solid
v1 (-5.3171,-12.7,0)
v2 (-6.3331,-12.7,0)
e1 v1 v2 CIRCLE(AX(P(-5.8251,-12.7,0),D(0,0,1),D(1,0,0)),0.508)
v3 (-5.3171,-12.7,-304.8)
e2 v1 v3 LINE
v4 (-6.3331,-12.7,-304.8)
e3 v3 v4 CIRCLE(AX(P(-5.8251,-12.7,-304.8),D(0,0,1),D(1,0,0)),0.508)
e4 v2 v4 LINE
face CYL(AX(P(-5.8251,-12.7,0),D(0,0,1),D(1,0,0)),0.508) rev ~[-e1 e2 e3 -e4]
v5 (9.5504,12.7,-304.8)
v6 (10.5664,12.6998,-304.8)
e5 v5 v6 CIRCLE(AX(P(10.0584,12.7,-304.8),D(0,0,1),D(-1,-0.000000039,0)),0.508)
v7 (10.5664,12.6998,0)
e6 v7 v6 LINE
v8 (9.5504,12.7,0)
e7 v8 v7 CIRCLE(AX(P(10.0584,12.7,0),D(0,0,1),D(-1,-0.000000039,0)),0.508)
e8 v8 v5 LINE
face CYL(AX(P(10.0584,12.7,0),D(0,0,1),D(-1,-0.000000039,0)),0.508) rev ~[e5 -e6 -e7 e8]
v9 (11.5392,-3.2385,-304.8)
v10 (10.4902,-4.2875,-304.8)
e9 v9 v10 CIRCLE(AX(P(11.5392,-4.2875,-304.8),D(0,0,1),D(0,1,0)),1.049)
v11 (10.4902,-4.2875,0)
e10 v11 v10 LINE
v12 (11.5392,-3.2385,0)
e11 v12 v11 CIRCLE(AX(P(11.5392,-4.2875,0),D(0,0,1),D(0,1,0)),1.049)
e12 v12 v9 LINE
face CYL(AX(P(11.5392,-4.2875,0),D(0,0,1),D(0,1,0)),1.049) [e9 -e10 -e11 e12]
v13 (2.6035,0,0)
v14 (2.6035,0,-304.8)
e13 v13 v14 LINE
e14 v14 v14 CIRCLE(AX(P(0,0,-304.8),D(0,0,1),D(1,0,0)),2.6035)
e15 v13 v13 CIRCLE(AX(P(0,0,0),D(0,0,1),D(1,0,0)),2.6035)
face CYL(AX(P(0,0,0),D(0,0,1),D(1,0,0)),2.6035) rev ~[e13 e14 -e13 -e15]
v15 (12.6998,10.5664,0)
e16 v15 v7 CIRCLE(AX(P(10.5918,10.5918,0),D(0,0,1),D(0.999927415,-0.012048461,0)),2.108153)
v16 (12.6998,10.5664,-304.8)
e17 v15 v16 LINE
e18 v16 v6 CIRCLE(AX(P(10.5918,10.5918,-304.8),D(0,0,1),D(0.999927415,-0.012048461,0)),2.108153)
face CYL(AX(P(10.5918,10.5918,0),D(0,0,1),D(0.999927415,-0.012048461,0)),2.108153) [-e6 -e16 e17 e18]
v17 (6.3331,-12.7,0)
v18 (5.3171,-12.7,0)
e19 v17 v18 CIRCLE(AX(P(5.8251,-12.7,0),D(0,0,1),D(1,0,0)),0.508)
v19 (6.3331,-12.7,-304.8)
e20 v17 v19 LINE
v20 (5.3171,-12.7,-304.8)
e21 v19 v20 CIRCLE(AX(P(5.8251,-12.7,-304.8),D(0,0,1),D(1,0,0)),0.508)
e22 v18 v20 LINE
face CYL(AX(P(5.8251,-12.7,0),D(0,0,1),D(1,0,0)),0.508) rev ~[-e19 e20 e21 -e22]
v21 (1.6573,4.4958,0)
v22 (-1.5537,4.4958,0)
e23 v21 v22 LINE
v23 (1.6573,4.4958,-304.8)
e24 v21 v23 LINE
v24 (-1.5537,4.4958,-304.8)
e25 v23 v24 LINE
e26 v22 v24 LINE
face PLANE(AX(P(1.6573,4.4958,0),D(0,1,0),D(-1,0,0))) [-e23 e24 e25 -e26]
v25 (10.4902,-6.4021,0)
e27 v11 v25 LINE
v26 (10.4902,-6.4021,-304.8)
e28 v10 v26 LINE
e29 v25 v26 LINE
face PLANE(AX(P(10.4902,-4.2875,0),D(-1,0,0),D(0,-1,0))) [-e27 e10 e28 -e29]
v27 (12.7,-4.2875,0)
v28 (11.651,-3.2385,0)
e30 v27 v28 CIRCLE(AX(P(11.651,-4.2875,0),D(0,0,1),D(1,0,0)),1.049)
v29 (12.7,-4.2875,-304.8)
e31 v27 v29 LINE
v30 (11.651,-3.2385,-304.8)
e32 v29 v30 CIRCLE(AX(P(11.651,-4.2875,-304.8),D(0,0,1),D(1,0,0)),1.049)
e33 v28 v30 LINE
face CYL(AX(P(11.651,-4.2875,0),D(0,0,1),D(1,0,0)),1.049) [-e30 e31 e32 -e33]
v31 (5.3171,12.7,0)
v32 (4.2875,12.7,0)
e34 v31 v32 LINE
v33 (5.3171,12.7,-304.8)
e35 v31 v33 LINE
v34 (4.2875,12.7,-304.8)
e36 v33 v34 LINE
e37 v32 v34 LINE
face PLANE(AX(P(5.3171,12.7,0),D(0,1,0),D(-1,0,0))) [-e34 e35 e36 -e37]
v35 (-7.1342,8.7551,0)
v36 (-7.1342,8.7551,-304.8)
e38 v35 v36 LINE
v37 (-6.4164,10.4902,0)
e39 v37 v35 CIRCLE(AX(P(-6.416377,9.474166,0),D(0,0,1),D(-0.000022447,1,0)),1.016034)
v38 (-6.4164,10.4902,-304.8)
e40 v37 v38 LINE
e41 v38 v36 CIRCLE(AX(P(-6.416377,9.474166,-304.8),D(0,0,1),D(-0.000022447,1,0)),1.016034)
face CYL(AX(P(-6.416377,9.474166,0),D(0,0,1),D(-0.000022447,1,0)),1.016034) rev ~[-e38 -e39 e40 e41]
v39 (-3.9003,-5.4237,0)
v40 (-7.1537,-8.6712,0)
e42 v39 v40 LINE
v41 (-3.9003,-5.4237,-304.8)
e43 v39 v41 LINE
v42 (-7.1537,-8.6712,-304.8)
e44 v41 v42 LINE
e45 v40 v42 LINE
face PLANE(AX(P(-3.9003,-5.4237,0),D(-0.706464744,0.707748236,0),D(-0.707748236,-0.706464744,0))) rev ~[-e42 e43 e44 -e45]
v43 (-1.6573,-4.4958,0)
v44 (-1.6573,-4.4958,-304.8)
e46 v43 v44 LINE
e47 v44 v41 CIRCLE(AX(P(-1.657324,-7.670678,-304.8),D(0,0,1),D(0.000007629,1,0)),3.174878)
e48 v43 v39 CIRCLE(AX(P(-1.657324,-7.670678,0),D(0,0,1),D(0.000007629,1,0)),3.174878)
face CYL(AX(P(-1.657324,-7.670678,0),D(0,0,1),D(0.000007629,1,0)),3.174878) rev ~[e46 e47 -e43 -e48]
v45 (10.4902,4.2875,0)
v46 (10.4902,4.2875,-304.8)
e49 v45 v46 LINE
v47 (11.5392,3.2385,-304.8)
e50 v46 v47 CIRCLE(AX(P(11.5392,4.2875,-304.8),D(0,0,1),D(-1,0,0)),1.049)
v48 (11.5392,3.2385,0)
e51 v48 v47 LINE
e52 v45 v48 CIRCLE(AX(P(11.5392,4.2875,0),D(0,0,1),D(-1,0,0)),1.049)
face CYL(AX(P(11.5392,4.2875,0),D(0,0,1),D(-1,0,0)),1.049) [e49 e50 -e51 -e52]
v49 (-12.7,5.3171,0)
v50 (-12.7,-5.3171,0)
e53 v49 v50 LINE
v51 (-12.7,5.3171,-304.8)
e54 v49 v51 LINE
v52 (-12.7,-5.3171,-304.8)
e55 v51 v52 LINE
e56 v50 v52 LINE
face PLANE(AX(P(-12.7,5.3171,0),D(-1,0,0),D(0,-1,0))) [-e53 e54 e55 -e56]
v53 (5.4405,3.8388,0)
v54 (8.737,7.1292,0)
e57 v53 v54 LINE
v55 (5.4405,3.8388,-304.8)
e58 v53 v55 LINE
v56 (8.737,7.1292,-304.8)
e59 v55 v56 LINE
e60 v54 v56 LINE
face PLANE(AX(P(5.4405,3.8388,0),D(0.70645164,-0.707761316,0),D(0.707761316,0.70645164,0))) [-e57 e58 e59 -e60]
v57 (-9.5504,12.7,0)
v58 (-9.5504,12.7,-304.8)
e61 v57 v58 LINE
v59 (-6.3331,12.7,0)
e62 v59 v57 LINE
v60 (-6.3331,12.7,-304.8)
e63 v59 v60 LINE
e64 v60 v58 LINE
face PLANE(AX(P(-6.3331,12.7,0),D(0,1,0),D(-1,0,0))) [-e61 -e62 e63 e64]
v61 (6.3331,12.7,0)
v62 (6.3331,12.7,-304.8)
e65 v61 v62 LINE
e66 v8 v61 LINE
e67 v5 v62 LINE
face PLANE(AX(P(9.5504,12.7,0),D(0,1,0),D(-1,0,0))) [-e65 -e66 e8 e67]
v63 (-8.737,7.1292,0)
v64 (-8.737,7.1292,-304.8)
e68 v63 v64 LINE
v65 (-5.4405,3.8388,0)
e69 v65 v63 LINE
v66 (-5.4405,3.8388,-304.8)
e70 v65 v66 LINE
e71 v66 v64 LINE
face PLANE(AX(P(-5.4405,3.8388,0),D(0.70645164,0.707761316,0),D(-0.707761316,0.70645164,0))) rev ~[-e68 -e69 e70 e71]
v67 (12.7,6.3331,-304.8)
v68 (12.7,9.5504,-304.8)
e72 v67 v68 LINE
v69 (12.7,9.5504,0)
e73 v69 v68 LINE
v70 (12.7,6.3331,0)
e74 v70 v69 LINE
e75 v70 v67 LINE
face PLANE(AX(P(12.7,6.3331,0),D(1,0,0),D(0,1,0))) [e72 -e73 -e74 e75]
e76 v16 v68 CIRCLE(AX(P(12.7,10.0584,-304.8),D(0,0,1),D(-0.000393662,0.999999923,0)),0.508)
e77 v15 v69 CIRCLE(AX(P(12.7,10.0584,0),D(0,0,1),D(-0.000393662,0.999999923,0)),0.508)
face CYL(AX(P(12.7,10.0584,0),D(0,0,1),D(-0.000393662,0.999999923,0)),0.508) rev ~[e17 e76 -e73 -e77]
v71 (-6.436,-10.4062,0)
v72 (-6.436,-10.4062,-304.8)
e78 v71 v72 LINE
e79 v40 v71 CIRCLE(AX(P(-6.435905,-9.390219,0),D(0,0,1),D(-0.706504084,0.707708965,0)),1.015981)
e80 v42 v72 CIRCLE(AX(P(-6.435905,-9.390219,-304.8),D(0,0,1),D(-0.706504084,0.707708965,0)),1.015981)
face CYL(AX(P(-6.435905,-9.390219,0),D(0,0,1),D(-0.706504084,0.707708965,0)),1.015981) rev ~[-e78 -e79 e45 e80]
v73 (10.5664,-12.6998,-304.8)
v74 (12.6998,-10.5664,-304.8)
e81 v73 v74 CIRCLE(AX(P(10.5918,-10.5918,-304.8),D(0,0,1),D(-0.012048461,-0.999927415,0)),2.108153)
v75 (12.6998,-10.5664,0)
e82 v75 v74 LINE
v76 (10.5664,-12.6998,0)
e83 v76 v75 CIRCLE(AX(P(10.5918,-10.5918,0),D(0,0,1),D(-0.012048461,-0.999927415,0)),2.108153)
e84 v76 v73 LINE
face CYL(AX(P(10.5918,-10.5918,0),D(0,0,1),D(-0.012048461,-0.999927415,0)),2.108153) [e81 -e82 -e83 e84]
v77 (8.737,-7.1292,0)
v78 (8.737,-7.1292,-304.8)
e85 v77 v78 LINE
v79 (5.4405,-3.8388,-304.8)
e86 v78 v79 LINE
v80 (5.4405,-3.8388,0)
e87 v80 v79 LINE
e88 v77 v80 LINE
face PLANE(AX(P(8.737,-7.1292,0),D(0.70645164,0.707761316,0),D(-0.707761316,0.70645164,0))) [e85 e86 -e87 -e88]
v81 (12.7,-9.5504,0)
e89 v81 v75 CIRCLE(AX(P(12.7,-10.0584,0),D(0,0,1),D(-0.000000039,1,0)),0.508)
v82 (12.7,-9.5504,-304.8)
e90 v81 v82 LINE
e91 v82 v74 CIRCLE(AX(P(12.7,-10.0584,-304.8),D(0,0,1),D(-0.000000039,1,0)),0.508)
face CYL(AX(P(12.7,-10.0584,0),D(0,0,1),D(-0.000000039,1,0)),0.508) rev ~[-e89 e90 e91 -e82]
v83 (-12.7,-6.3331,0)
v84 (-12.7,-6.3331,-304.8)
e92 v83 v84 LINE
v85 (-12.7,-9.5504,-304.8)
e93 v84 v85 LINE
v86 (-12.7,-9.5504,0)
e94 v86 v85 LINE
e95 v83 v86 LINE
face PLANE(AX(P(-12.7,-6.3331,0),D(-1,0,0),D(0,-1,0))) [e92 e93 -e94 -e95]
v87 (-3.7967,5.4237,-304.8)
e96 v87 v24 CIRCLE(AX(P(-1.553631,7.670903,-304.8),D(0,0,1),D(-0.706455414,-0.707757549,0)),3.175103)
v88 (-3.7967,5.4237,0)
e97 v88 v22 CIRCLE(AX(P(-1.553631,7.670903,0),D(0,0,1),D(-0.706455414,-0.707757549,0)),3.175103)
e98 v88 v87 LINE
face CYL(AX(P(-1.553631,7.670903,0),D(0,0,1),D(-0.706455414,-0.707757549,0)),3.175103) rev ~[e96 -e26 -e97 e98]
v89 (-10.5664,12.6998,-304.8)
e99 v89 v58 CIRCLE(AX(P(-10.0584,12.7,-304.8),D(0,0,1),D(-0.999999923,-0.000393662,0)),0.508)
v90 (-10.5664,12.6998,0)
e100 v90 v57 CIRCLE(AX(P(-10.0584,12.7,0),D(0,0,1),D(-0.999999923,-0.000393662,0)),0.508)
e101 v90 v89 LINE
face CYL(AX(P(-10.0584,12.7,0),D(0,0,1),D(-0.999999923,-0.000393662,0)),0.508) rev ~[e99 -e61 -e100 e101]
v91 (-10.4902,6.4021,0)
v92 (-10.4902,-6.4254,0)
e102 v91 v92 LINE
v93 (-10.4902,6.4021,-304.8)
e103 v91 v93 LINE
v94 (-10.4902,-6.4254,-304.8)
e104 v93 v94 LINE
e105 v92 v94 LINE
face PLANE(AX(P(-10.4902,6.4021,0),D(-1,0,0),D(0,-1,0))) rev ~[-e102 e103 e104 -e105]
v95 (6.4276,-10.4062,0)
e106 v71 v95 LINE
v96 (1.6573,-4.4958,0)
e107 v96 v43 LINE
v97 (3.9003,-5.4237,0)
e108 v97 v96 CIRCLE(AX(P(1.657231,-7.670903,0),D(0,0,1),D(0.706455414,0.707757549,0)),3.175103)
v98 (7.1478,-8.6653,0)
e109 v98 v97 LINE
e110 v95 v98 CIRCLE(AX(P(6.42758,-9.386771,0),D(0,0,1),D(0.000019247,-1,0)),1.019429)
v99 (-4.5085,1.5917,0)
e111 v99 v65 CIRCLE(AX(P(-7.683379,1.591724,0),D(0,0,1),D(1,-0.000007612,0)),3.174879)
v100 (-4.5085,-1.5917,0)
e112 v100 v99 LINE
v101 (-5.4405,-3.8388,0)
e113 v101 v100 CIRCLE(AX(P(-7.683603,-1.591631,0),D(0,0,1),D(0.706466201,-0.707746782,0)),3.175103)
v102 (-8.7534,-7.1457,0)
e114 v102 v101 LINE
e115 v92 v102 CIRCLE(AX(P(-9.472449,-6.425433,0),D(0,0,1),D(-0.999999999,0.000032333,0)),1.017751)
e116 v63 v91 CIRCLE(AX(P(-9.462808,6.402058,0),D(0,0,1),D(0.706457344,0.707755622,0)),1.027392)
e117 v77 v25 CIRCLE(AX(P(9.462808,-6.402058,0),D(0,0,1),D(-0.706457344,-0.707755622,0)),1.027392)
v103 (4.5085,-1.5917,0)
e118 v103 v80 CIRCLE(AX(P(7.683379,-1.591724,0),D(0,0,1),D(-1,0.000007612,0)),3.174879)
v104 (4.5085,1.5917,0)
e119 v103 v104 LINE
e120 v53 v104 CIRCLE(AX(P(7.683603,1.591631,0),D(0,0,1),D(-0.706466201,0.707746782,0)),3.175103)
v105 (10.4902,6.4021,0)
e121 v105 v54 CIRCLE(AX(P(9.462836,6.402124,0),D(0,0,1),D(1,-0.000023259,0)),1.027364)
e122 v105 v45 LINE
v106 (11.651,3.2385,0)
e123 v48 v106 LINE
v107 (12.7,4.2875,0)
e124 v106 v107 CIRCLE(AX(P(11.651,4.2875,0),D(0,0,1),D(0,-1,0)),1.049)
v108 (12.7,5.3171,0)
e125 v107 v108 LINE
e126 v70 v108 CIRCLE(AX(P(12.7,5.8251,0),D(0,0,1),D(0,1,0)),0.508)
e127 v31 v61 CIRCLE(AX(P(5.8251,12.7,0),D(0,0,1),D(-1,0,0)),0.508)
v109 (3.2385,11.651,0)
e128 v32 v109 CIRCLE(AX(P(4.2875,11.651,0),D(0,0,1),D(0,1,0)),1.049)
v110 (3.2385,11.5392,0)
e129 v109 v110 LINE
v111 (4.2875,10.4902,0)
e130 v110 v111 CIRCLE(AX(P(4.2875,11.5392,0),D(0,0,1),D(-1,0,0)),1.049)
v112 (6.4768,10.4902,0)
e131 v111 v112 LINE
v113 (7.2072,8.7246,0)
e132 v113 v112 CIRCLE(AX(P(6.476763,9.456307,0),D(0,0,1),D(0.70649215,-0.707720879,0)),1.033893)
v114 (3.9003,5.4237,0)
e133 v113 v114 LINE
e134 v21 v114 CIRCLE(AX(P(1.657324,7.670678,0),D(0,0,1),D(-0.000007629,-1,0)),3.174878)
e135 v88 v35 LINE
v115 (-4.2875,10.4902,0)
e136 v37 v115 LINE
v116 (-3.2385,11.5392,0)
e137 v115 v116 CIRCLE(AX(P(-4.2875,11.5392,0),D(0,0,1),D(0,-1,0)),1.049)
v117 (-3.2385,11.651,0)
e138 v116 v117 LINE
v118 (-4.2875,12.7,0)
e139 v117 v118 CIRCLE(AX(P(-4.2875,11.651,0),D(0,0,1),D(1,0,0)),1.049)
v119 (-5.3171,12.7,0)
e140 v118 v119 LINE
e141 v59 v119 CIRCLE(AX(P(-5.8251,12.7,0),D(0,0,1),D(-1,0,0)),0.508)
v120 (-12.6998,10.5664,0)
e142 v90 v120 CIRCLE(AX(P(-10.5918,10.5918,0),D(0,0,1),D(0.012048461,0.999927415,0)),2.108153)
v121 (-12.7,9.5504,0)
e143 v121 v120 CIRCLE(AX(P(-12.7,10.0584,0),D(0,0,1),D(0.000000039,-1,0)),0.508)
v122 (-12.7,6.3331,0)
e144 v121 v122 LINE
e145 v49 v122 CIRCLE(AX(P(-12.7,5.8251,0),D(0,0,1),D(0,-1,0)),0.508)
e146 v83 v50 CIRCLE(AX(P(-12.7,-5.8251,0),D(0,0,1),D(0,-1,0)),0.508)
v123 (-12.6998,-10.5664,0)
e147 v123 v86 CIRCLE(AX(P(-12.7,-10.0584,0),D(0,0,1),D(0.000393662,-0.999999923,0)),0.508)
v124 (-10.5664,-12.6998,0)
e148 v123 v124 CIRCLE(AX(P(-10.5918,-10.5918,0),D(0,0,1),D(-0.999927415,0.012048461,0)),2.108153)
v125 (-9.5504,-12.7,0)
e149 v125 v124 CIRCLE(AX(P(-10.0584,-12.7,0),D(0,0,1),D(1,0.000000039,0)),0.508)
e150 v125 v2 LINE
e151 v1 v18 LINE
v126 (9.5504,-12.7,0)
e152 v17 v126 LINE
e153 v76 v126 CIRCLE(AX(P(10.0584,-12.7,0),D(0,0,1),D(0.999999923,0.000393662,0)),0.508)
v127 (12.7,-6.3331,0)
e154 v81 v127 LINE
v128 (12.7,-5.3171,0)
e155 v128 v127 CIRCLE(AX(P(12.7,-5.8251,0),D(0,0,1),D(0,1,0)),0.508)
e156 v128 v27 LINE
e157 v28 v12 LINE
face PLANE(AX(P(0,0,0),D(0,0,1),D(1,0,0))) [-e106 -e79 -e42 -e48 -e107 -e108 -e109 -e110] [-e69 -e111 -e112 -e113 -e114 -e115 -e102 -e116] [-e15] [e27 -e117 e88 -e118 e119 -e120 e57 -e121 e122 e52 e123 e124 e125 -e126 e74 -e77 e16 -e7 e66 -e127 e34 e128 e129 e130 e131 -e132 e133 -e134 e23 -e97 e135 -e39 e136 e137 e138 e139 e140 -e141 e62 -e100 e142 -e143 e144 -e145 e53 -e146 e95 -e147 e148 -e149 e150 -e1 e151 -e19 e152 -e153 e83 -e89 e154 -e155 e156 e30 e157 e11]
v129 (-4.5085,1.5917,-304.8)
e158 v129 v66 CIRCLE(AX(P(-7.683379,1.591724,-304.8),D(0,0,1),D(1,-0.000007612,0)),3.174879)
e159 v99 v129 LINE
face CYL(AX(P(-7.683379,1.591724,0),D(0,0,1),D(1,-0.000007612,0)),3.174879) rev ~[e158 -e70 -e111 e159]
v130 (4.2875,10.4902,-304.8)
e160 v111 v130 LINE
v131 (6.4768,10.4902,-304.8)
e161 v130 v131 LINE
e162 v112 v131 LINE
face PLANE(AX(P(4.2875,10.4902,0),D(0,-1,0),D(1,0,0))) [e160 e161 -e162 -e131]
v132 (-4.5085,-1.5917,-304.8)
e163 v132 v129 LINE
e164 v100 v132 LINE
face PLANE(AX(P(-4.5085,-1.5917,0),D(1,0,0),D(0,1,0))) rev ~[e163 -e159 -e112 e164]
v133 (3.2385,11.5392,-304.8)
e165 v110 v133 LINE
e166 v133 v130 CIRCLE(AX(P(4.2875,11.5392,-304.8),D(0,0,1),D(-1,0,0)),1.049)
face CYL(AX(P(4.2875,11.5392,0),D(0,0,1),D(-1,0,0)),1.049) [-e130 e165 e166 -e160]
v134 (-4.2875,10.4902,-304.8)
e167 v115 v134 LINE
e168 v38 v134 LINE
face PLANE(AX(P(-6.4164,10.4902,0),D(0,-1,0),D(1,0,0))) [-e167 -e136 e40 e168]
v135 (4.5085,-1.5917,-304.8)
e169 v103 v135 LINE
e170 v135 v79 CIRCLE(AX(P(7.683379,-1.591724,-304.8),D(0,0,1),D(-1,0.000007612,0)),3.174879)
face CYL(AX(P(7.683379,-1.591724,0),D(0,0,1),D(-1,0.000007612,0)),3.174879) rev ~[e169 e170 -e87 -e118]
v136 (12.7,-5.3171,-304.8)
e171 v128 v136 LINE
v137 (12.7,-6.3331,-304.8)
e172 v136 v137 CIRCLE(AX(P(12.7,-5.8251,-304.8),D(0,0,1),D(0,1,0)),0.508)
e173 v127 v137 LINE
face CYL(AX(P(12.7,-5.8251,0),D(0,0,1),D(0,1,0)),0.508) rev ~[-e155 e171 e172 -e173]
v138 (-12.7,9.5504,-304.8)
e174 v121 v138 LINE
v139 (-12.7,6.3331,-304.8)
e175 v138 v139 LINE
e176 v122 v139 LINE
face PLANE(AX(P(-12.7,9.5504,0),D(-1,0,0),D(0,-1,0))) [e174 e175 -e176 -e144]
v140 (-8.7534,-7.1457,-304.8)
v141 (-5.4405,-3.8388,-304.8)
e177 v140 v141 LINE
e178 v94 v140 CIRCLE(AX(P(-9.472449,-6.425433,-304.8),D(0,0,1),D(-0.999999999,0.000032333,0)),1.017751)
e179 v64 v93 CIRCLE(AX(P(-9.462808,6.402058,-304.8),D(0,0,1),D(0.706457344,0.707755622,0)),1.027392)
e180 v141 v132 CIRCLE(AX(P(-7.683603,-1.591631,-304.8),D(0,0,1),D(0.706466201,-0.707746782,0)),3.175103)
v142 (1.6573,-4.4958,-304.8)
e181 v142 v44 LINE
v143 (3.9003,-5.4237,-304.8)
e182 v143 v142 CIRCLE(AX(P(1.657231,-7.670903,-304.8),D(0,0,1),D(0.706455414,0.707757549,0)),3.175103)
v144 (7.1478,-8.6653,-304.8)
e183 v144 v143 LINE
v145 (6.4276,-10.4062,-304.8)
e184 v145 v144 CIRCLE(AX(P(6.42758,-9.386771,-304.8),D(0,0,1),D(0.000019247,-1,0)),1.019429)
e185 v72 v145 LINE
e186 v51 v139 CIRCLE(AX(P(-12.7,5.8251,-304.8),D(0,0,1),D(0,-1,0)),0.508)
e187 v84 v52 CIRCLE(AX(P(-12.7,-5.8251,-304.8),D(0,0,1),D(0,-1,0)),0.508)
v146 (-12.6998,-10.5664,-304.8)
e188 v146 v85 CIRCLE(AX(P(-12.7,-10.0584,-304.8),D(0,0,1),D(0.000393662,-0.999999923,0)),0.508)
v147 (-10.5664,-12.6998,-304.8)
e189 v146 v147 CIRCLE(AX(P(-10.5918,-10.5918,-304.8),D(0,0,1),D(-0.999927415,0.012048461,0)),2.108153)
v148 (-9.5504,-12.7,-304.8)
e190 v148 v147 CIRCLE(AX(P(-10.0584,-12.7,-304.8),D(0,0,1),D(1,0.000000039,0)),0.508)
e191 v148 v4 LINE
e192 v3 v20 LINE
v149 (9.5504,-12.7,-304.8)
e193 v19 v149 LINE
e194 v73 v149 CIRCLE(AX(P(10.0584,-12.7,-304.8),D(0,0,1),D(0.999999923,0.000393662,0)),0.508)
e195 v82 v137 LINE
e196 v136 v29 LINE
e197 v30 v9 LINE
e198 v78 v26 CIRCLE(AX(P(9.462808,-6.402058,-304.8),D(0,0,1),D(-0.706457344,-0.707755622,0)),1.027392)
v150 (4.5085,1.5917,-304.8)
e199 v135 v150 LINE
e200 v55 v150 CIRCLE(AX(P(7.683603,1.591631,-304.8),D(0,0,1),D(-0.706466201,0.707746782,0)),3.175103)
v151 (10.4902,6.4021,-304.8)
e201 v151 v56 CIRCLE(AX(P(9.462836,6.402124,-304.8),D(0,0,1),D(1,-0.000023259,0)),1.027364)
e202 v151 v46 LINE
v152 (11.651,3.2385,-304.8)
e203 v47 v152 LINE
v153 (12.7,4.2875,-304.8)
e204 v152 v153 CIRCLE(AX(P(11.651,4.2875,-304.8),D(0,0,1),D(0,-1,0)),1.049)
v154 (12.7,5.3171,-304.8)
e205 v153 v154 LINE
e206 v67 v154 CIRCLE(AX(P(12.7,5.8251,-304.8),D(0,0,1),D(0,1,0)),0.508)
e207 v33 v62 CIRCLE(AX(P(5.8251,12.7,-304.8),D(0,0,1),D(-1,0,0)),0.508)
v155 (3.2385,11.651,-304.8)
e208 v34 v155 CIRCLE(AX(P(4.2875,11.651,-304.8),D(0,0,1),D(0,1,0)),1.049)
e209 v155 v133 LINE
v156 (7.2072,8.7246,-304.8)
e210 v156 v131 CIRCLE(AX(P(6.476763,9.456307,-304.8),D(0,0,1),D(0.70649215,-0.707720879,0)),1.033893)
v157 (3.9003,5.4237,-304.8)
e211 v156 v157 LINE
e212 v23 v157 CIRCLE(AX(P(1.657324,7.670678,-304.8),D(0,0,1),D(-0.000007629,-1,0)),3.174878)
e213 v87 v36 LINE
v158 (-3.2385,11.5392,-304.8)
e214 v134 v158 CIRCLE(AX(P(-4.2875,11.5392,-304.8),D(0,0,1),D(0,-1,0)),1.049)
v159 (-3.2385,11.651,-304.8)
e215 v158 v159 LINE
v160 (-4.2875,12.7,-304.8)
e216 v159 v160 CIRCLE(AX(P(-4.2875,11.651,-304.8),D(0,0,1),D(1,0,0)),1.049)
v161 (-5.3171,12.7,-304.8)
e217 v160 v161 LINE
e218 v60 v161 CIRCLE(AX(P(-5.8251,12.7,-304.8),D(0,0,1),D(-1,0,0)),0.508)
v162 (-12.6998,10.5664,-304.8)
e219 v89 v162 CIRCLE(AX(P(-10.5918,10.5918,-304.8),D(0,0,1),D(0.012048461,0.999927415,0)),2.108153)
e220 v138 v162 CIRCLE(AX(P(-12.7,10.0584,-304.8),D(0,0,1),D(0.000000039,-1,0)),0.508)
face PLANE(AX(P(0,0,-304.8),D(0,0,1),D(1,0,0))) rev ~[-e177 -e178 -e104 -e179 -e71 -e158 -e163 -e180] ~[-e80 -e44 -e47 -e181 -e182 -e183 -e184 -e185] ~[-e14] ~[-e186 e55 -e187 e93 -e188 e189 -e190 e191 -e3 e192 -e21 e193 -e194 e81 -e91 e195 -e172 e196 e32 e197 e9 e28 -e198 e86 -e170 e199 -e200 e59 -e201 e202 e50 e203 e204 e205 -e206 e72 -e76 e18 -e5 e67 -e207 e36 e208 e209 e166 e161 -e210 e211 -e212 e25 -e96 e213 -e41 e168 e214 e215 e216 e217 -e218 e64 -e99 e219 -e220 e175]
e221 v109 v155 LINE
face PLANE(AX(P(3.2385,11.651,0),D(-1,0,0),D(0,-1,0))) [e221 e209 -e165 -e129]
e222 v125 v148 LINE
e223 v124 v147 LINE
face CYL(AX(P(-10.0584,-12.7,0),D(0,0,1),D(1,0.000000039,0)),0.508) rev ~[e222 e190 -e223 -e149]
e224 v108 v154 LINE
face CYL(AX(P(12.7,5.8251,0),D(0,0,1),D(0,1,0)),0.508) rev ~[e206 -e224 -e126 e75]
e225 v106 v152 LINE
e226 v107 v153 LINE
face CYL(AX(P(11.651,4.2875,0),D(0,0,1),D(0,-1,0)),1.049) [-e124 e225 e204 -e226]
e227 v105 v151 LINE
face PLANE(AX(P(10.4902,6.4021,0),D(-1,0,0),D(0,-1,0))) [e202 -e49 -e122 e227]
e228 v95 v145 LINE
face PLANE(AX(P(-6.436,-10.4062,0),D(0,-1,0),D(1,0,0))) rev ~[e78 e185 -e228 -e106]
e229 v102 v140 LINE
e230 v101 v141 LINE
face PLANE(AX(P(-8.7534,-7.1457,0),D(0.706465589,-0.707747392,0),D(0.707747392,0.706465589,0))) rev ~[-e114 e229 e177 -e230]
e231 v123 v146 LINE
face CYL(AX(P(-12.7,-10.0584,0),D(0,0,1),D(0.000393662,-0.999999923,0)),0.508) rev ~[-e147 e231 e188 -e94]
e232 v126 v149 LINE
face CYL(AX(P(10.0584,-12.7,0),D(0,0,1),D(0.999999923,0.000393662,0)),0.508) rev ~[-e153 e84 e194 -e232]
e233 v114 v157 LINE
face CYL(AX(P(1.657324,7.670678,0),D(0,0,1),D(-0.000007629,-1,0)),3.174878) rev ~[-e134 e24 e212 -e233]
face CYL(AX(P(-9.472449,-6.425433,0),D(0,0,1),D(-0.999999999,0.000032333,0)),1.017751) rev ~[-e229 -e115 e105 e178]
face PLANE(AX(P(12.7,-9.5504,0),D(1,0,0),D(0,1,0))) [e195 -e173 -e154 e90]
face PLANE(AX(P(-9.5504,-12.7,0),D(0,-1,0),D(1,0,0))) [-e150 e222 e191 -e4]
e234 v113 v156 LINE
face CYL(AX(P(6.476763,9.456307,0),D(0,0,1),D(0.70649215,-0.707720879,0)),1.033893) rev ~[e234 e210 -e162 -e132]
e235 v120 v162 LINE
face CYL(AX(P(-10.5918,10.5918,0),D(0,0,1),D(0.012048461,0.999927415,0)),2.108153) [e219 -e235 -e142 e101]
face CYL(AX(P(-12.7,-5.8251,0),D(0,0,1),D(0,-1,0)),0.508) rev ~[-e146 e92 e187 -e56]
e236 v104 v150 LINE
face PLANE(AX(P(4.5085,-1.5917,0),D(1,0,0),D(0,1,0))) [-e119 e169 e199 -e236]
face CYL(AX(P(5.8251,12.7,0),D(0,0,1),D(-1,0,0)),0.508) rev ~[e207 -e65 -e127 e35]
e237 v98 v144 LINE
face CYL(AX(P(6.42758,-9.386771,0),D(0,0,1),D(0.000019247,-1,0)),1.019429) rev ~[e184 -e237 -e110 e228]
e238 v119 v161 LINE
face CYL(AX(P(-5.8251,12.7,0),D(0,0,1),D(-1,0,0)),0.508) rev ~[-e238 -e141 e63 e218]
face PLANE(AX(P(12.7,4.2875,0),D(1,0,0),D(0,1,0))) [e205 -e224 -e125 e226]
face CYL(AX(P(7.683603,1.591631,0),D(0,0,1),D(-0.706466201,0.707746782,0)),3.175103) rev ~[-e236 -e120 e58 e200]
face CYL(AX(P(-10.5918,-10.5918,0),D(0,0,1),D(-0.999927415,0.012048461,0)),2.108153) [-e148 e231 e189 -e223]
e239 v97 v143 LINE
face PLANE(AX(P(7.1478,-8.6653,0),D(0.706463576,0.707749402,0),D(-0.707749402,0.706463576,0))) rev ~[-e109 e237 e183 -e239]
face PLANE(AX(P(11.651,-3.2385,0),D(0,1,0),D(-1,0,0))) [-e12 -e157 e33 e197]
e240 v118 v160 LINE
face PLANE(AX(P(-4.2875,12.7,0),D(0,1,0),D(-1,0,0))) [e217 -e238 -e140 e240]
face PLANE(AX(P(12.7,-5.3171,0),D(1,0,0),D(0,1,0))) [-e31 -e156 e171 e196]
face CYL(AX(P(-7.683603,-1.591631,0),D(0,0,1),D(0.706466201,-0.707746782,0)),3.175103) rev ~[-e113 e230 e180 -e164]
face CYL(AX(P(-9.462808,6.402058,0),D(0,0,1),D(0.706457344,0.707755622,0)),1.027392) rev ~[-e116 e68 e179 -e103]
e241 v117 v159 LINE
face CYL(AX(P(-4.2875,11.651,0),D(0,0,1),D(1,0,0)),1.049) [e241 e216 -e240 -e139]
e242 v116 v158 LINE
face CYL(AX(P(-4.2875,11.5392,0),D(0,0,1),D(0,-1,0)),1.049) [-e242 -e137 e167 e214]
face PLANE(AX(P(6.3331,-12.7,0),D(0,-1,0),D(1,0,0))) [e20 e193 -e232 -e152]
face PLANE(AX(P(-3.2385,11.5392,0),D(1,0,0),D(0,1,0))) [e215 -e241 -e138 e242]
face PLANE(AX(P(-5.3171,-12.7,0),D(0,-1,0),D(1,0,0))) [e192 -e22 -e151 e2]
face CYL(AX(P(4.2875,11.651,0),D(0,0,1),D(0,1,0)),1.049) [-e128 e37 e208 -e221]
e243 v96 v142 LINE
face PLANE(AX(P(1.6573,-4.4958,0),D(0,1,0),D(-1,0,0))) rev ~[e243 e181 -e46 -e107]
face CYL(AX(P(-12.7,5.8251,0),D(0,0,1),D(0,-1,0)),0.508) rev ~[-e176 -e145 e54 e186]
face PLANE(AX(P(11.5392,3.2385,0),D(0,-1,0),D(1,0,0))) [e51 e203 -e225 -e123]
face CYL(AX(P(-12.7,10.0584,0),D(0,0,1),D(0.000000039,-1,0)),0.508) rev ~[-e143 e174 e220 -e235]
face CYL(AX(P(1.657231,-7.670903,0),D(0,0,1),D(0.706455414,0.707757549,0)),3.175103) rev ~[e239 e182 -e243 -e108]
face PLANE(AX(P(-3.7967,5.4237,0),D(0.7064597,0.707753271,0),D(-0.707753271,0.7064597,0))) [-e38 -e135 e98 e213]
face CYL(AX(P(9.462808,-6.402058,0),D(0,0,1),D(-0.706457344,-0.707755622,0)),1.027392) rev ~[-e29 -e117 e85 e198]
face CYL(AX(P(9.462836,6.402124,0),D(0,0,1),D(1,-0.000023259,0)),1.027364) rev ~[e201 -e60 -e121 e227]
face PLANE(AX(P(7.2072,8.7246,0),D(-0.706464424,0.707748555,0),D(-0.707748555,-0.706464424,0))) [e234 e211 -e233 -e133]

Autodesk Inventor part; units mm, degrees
ref_plane "YZ Plane" through (0, 0, 0) normal (1, 0, 0) x (0, 1, 0)
ref_plane "XZ Plane" through (0, 0, 0) normal (0, 1, 0) x (-1, 0, 0)
ref_plane "XY Plane" through (0, 0, 0) normal (0, 0, 1) x (1, 0, 0)
sketch "Sketch1" plane through (0, 0, 0) normal (0, 0, 1) x (1, 0, 0)
  circle A0 centre (0, 0) radius 2.6035
  arc A1 (-8.737, 7.1292) -> (-10.4902, 6.4021) centre (-9.4628, 6.4021) ccw
  line L0 (-5.4405, 3.8388) -> (-8.737, 7.1292)
  arc A2 (-4.5085, 1.5917) -> (-5.4405, 3.8388) centre (-7.6835, 1.5917) ccw
  line L1 (-4.5085, -1.5917) -> (-4.5085, 1.5917)
  arc A3 (-5.4405, -3.8388) -> (-4.5085, -1.5917) centre (-7.6835, -1.5917) ccw
  line L2 (-8.7534, -7.1457) -> (-5.4405, -3.8388)
  arc A4 (-10.4902, -6.4254) -> (-8.7534, -7.1457) centre (-9.4724, -6.4254) ccw
  line L3 (-10.4902, 6.4021) -> (-10.4902, -6.4254)
  arc A5 (-7.1537, -8.6712) -> (-6.436, -10.4062) centre (-6.436, -9.3902) ccw
  line L4 (-3.9003, -5.4237) -> (-7.1537, -8.6712)
  arc A6 (-1.6573, -4.4958) -> (-3.9003, -5.4237) centre (-1.6573, -7.6708) ccw
  line L5 (1.6573, -4.4958) -> (-1.6573, -4.4958)
  arc A7 (3.9003, -5.4237) -> (1.6573, -4.4958) centre (1.6573, -7.6708) ccw
  line L6 (7.1478, -8.6653) -> (3.9003, -5.4237)
  arc A8 (6.4276, -10.4062) -> (7.1478, -8.6653) centre (6.4276, -9.3868) ccw
  line L7 (-6.436, -10.4062) -> (6.4276, -10.4062)
  arc A9 (6.3331, -12.7) -> (5.3171, -12.7) centre (5.8251, -12.7) ccw
  line L8 (6.3331, -12.7) -> (9.5504, -12.7)
  arc A10 (10.5664, -12.6998) -> (9.5504, -12.7) centre (10.0584, -12.7) ccw
  arc A11 (10.5664, -12.6998) -> (12.6998, -10.5664) centre (10.5918, -10.5918) ccw
  arc A12 (12.7, -9.5504) -> (12.6998, -10.5664) centre (12.7, -10.0584) ccw
  line L9 (12.7, -9.5504) -> (12.7, -6.3331)
  arc A13 (12.7, -5.3171) -> (12.7, -6.3331) centre (12.7, -5.8251) ccw
  line L10 (12.7, -5.3171) -> (12.7, -4.2875)
  arc A14 (12.7, -4.2875) -> (11.651, -3.2385) centre (11.651, -4.2875) ccw
  line L11 (11.651, -3.2385) -> (11.5392, -3.2385)
  arc A15 (11.5392, -3.2385) -> (10.4902, -4.2875) centre (11.5392, -4.2875) ccw
  line L12 (10.4902, -4.2875) -> (10.4902, -6.4021)
  arc A16 (8.737, -7.1292) -> (10.4902, -6.4021) centre (9.4628, -6.4021) ccw
  line L13 (8.737, -7.1292) -> (5.4405, -3.8388)
  arc A17 (4.5085, -1.5917) -> (5.4405, -3.8388) centre (7.6835, -1.5917) ccw
  line L14 (4.5085, -1.5917) -> (4.5085, 1.5917)
  arc A18 (5.4405, 3.8388) -> (4.5085, 1.5917) centre (7.6835, 1.5917) ccw
  line L15 (5.4405, 3.8388) -> (8.737, 7.1292)
  arc A19 (10.4902, 6.4021) -> (8.737, 7.1292) centre (9.4628, 6.4021) ccw
  line L16 (10.4902, 6.4021) -> (10.4902, 4.2875)
  arc A20 (10.4902, 4.2875) -> (11.5392, 3.2385) centre (11.5392, 4.2875) ccw
  line L17 (11.5392, 3.2385) -> (11.651, 3.2385)
  arc A21 (11.651, 3.2385) -> (12.7, 4.2875) centre (11.651, 4.2875) ccw
  line L18 (12.7, 4.2875) -> (12.7, 5.3171)
  arc A22 (12.7, 6.3331) -> (12.7, 5.3171) centre (12.7, 5.8251) ccw
  line L19 (12.7, 6.3331) -> (12.7, 9.5504)
  arc A23 (12.6998, 10.5664) -> (12.7, 9.5504) centre (12.7, 10.0584) ccw
  arc A24 (12.6998, 10.5664) -> (10.5664, 12.6998) centre (10.5918, 10.5918) ccw
  arc A25 (9.5504, 12.7) -> (10.5664, 12.6998) centre (10.0584, 12.7) ccw
  line L20 (9.5504, 12.7) -> (6.3331, 12.7)
  arc A26 (5.3171, 12.7) -> (6.3331, 12.7) centre (5.8251, 12.7) ccw
  line L21 (5.3171, 12.7) -> (4.2875, 12.7)
  arc A27 (4.2875, 12.7) -> (3.2385, 11.651) centre (4.2875, 11.651) ccw
  line L22 (3.2385, 11.651) -> (3.2385, 11.5392)
  arc A28 (3.2385, 11.5392) -> (4.2875, 10.4902) centre (4.2875, 11.5392) ccw
  line L23 (4.2875, 10.4902) -> (6.4768, 10.4902)
  arc A29 (7.2072, 8.7246) -> (6.4768, 10.4902) centre (6.4768, 9.4563) ccw
  line L24 (7.2072, 8.7246) -> (3.9003, 5.4237)
  arc A30 (1.6573, 4.4958) -> (3.9003, 5.4237) centre (1.6573, 7.6708) ccw
  line L25 (1.6573, 4.4958) -> (-1.5537, 4.4958)
  arc A31 (-3.7967, 5.4237) -> (-1.5537, 4.4958) centre (-1.5537, 7.6708) ccw
  line L26 (-3.7967, 5.4237) -> (-7.1342, 8.7551)
  arc A32 (-6.4164, 10.4902) -> (-7.1342, 8.7551) centre (-6.4164, 9.4742) ccw
  line L27 (-6.4164, 10.4902) -> (-4.2875, 10.4902)
  arc A33 (-4.2875, 10.4902) -> (-3.2385, 11.5392) centre (-4.2875, 11.5392) ccw
  line L28 (-3.2385, 11.5392) -> (-3.2385, 11.651)
  arc A34 (-3.2385, 11.651) -> (-4.2875, 12.7) centre (-4.2875, 11.651) ccw
  line L29 (-4.2875, 12.7) -> (-5.3171, 12.7)
  arc A35 (-6.3331, 12.7) -> (-5.3171, 12.7) centre (-5.8251, 12.7) ccw
  line L30 (-6.3331, 12.7) -> (-9.5504, 12.7)
  arc A36 (-10.5664, 12.6998) -> (-9.5504, 12.7) centre (-10.0584, 12.7) ccw
  arc A37 (-10.5664, 12.6998) -> (-12.6998, 10.5664) centre (-10.5918, 10.5918) ccw
  arc A38 (-12.7, 9.5504) -> (-12.6998, 10.5664) centre (-12.7, 10.0584) ccw
  line L31 (-12.7, 9.5504) -> (-12.7, 6.3331)
  arc A39 (-12.7, 5.3171) -> (-12.7, 6.3331) centre (-12.7, 5.8251) ccw
  line L32 (-12.7, 5.3171) -> (-12.7, -5.3171)
  arc A40 (-12.7, -6.3331) -> (-12.7, -5.3171) centre (-12.7, -5.8251) ccw
  line L33 (-12.7, -6.3331) -> (-12.7, -9.5504)
  arc A41 (-12.6998, -10.5664) -> (-12.7, -9.5504) centre (-12.7, -10.0584) ccw
  arc A42 (-12.6998, -10.5664) -> (-10.5664, -12.6998) centre (-10.5918, -10.5918) ccw
  arc A43 (-9.5504, -12.7) -> (-10.5664, -12.6998) centre (-10.0584, -12.7) ccw
  line L34 (-9.5504, -12.7) -> (-6.3331, -12.7)
  arc A44 (-5.3171, -12.7) -> (-6.3331, -12.7) centre (-5.8251, -12.7) ccw
  line L35 (-5.3171, -12.7) -> (5.3171, -12.7)
extrude "Extrusion1" add sketch "Sketch1" against normal blind 304.8
properties part number "1002-BLACK-FB"
